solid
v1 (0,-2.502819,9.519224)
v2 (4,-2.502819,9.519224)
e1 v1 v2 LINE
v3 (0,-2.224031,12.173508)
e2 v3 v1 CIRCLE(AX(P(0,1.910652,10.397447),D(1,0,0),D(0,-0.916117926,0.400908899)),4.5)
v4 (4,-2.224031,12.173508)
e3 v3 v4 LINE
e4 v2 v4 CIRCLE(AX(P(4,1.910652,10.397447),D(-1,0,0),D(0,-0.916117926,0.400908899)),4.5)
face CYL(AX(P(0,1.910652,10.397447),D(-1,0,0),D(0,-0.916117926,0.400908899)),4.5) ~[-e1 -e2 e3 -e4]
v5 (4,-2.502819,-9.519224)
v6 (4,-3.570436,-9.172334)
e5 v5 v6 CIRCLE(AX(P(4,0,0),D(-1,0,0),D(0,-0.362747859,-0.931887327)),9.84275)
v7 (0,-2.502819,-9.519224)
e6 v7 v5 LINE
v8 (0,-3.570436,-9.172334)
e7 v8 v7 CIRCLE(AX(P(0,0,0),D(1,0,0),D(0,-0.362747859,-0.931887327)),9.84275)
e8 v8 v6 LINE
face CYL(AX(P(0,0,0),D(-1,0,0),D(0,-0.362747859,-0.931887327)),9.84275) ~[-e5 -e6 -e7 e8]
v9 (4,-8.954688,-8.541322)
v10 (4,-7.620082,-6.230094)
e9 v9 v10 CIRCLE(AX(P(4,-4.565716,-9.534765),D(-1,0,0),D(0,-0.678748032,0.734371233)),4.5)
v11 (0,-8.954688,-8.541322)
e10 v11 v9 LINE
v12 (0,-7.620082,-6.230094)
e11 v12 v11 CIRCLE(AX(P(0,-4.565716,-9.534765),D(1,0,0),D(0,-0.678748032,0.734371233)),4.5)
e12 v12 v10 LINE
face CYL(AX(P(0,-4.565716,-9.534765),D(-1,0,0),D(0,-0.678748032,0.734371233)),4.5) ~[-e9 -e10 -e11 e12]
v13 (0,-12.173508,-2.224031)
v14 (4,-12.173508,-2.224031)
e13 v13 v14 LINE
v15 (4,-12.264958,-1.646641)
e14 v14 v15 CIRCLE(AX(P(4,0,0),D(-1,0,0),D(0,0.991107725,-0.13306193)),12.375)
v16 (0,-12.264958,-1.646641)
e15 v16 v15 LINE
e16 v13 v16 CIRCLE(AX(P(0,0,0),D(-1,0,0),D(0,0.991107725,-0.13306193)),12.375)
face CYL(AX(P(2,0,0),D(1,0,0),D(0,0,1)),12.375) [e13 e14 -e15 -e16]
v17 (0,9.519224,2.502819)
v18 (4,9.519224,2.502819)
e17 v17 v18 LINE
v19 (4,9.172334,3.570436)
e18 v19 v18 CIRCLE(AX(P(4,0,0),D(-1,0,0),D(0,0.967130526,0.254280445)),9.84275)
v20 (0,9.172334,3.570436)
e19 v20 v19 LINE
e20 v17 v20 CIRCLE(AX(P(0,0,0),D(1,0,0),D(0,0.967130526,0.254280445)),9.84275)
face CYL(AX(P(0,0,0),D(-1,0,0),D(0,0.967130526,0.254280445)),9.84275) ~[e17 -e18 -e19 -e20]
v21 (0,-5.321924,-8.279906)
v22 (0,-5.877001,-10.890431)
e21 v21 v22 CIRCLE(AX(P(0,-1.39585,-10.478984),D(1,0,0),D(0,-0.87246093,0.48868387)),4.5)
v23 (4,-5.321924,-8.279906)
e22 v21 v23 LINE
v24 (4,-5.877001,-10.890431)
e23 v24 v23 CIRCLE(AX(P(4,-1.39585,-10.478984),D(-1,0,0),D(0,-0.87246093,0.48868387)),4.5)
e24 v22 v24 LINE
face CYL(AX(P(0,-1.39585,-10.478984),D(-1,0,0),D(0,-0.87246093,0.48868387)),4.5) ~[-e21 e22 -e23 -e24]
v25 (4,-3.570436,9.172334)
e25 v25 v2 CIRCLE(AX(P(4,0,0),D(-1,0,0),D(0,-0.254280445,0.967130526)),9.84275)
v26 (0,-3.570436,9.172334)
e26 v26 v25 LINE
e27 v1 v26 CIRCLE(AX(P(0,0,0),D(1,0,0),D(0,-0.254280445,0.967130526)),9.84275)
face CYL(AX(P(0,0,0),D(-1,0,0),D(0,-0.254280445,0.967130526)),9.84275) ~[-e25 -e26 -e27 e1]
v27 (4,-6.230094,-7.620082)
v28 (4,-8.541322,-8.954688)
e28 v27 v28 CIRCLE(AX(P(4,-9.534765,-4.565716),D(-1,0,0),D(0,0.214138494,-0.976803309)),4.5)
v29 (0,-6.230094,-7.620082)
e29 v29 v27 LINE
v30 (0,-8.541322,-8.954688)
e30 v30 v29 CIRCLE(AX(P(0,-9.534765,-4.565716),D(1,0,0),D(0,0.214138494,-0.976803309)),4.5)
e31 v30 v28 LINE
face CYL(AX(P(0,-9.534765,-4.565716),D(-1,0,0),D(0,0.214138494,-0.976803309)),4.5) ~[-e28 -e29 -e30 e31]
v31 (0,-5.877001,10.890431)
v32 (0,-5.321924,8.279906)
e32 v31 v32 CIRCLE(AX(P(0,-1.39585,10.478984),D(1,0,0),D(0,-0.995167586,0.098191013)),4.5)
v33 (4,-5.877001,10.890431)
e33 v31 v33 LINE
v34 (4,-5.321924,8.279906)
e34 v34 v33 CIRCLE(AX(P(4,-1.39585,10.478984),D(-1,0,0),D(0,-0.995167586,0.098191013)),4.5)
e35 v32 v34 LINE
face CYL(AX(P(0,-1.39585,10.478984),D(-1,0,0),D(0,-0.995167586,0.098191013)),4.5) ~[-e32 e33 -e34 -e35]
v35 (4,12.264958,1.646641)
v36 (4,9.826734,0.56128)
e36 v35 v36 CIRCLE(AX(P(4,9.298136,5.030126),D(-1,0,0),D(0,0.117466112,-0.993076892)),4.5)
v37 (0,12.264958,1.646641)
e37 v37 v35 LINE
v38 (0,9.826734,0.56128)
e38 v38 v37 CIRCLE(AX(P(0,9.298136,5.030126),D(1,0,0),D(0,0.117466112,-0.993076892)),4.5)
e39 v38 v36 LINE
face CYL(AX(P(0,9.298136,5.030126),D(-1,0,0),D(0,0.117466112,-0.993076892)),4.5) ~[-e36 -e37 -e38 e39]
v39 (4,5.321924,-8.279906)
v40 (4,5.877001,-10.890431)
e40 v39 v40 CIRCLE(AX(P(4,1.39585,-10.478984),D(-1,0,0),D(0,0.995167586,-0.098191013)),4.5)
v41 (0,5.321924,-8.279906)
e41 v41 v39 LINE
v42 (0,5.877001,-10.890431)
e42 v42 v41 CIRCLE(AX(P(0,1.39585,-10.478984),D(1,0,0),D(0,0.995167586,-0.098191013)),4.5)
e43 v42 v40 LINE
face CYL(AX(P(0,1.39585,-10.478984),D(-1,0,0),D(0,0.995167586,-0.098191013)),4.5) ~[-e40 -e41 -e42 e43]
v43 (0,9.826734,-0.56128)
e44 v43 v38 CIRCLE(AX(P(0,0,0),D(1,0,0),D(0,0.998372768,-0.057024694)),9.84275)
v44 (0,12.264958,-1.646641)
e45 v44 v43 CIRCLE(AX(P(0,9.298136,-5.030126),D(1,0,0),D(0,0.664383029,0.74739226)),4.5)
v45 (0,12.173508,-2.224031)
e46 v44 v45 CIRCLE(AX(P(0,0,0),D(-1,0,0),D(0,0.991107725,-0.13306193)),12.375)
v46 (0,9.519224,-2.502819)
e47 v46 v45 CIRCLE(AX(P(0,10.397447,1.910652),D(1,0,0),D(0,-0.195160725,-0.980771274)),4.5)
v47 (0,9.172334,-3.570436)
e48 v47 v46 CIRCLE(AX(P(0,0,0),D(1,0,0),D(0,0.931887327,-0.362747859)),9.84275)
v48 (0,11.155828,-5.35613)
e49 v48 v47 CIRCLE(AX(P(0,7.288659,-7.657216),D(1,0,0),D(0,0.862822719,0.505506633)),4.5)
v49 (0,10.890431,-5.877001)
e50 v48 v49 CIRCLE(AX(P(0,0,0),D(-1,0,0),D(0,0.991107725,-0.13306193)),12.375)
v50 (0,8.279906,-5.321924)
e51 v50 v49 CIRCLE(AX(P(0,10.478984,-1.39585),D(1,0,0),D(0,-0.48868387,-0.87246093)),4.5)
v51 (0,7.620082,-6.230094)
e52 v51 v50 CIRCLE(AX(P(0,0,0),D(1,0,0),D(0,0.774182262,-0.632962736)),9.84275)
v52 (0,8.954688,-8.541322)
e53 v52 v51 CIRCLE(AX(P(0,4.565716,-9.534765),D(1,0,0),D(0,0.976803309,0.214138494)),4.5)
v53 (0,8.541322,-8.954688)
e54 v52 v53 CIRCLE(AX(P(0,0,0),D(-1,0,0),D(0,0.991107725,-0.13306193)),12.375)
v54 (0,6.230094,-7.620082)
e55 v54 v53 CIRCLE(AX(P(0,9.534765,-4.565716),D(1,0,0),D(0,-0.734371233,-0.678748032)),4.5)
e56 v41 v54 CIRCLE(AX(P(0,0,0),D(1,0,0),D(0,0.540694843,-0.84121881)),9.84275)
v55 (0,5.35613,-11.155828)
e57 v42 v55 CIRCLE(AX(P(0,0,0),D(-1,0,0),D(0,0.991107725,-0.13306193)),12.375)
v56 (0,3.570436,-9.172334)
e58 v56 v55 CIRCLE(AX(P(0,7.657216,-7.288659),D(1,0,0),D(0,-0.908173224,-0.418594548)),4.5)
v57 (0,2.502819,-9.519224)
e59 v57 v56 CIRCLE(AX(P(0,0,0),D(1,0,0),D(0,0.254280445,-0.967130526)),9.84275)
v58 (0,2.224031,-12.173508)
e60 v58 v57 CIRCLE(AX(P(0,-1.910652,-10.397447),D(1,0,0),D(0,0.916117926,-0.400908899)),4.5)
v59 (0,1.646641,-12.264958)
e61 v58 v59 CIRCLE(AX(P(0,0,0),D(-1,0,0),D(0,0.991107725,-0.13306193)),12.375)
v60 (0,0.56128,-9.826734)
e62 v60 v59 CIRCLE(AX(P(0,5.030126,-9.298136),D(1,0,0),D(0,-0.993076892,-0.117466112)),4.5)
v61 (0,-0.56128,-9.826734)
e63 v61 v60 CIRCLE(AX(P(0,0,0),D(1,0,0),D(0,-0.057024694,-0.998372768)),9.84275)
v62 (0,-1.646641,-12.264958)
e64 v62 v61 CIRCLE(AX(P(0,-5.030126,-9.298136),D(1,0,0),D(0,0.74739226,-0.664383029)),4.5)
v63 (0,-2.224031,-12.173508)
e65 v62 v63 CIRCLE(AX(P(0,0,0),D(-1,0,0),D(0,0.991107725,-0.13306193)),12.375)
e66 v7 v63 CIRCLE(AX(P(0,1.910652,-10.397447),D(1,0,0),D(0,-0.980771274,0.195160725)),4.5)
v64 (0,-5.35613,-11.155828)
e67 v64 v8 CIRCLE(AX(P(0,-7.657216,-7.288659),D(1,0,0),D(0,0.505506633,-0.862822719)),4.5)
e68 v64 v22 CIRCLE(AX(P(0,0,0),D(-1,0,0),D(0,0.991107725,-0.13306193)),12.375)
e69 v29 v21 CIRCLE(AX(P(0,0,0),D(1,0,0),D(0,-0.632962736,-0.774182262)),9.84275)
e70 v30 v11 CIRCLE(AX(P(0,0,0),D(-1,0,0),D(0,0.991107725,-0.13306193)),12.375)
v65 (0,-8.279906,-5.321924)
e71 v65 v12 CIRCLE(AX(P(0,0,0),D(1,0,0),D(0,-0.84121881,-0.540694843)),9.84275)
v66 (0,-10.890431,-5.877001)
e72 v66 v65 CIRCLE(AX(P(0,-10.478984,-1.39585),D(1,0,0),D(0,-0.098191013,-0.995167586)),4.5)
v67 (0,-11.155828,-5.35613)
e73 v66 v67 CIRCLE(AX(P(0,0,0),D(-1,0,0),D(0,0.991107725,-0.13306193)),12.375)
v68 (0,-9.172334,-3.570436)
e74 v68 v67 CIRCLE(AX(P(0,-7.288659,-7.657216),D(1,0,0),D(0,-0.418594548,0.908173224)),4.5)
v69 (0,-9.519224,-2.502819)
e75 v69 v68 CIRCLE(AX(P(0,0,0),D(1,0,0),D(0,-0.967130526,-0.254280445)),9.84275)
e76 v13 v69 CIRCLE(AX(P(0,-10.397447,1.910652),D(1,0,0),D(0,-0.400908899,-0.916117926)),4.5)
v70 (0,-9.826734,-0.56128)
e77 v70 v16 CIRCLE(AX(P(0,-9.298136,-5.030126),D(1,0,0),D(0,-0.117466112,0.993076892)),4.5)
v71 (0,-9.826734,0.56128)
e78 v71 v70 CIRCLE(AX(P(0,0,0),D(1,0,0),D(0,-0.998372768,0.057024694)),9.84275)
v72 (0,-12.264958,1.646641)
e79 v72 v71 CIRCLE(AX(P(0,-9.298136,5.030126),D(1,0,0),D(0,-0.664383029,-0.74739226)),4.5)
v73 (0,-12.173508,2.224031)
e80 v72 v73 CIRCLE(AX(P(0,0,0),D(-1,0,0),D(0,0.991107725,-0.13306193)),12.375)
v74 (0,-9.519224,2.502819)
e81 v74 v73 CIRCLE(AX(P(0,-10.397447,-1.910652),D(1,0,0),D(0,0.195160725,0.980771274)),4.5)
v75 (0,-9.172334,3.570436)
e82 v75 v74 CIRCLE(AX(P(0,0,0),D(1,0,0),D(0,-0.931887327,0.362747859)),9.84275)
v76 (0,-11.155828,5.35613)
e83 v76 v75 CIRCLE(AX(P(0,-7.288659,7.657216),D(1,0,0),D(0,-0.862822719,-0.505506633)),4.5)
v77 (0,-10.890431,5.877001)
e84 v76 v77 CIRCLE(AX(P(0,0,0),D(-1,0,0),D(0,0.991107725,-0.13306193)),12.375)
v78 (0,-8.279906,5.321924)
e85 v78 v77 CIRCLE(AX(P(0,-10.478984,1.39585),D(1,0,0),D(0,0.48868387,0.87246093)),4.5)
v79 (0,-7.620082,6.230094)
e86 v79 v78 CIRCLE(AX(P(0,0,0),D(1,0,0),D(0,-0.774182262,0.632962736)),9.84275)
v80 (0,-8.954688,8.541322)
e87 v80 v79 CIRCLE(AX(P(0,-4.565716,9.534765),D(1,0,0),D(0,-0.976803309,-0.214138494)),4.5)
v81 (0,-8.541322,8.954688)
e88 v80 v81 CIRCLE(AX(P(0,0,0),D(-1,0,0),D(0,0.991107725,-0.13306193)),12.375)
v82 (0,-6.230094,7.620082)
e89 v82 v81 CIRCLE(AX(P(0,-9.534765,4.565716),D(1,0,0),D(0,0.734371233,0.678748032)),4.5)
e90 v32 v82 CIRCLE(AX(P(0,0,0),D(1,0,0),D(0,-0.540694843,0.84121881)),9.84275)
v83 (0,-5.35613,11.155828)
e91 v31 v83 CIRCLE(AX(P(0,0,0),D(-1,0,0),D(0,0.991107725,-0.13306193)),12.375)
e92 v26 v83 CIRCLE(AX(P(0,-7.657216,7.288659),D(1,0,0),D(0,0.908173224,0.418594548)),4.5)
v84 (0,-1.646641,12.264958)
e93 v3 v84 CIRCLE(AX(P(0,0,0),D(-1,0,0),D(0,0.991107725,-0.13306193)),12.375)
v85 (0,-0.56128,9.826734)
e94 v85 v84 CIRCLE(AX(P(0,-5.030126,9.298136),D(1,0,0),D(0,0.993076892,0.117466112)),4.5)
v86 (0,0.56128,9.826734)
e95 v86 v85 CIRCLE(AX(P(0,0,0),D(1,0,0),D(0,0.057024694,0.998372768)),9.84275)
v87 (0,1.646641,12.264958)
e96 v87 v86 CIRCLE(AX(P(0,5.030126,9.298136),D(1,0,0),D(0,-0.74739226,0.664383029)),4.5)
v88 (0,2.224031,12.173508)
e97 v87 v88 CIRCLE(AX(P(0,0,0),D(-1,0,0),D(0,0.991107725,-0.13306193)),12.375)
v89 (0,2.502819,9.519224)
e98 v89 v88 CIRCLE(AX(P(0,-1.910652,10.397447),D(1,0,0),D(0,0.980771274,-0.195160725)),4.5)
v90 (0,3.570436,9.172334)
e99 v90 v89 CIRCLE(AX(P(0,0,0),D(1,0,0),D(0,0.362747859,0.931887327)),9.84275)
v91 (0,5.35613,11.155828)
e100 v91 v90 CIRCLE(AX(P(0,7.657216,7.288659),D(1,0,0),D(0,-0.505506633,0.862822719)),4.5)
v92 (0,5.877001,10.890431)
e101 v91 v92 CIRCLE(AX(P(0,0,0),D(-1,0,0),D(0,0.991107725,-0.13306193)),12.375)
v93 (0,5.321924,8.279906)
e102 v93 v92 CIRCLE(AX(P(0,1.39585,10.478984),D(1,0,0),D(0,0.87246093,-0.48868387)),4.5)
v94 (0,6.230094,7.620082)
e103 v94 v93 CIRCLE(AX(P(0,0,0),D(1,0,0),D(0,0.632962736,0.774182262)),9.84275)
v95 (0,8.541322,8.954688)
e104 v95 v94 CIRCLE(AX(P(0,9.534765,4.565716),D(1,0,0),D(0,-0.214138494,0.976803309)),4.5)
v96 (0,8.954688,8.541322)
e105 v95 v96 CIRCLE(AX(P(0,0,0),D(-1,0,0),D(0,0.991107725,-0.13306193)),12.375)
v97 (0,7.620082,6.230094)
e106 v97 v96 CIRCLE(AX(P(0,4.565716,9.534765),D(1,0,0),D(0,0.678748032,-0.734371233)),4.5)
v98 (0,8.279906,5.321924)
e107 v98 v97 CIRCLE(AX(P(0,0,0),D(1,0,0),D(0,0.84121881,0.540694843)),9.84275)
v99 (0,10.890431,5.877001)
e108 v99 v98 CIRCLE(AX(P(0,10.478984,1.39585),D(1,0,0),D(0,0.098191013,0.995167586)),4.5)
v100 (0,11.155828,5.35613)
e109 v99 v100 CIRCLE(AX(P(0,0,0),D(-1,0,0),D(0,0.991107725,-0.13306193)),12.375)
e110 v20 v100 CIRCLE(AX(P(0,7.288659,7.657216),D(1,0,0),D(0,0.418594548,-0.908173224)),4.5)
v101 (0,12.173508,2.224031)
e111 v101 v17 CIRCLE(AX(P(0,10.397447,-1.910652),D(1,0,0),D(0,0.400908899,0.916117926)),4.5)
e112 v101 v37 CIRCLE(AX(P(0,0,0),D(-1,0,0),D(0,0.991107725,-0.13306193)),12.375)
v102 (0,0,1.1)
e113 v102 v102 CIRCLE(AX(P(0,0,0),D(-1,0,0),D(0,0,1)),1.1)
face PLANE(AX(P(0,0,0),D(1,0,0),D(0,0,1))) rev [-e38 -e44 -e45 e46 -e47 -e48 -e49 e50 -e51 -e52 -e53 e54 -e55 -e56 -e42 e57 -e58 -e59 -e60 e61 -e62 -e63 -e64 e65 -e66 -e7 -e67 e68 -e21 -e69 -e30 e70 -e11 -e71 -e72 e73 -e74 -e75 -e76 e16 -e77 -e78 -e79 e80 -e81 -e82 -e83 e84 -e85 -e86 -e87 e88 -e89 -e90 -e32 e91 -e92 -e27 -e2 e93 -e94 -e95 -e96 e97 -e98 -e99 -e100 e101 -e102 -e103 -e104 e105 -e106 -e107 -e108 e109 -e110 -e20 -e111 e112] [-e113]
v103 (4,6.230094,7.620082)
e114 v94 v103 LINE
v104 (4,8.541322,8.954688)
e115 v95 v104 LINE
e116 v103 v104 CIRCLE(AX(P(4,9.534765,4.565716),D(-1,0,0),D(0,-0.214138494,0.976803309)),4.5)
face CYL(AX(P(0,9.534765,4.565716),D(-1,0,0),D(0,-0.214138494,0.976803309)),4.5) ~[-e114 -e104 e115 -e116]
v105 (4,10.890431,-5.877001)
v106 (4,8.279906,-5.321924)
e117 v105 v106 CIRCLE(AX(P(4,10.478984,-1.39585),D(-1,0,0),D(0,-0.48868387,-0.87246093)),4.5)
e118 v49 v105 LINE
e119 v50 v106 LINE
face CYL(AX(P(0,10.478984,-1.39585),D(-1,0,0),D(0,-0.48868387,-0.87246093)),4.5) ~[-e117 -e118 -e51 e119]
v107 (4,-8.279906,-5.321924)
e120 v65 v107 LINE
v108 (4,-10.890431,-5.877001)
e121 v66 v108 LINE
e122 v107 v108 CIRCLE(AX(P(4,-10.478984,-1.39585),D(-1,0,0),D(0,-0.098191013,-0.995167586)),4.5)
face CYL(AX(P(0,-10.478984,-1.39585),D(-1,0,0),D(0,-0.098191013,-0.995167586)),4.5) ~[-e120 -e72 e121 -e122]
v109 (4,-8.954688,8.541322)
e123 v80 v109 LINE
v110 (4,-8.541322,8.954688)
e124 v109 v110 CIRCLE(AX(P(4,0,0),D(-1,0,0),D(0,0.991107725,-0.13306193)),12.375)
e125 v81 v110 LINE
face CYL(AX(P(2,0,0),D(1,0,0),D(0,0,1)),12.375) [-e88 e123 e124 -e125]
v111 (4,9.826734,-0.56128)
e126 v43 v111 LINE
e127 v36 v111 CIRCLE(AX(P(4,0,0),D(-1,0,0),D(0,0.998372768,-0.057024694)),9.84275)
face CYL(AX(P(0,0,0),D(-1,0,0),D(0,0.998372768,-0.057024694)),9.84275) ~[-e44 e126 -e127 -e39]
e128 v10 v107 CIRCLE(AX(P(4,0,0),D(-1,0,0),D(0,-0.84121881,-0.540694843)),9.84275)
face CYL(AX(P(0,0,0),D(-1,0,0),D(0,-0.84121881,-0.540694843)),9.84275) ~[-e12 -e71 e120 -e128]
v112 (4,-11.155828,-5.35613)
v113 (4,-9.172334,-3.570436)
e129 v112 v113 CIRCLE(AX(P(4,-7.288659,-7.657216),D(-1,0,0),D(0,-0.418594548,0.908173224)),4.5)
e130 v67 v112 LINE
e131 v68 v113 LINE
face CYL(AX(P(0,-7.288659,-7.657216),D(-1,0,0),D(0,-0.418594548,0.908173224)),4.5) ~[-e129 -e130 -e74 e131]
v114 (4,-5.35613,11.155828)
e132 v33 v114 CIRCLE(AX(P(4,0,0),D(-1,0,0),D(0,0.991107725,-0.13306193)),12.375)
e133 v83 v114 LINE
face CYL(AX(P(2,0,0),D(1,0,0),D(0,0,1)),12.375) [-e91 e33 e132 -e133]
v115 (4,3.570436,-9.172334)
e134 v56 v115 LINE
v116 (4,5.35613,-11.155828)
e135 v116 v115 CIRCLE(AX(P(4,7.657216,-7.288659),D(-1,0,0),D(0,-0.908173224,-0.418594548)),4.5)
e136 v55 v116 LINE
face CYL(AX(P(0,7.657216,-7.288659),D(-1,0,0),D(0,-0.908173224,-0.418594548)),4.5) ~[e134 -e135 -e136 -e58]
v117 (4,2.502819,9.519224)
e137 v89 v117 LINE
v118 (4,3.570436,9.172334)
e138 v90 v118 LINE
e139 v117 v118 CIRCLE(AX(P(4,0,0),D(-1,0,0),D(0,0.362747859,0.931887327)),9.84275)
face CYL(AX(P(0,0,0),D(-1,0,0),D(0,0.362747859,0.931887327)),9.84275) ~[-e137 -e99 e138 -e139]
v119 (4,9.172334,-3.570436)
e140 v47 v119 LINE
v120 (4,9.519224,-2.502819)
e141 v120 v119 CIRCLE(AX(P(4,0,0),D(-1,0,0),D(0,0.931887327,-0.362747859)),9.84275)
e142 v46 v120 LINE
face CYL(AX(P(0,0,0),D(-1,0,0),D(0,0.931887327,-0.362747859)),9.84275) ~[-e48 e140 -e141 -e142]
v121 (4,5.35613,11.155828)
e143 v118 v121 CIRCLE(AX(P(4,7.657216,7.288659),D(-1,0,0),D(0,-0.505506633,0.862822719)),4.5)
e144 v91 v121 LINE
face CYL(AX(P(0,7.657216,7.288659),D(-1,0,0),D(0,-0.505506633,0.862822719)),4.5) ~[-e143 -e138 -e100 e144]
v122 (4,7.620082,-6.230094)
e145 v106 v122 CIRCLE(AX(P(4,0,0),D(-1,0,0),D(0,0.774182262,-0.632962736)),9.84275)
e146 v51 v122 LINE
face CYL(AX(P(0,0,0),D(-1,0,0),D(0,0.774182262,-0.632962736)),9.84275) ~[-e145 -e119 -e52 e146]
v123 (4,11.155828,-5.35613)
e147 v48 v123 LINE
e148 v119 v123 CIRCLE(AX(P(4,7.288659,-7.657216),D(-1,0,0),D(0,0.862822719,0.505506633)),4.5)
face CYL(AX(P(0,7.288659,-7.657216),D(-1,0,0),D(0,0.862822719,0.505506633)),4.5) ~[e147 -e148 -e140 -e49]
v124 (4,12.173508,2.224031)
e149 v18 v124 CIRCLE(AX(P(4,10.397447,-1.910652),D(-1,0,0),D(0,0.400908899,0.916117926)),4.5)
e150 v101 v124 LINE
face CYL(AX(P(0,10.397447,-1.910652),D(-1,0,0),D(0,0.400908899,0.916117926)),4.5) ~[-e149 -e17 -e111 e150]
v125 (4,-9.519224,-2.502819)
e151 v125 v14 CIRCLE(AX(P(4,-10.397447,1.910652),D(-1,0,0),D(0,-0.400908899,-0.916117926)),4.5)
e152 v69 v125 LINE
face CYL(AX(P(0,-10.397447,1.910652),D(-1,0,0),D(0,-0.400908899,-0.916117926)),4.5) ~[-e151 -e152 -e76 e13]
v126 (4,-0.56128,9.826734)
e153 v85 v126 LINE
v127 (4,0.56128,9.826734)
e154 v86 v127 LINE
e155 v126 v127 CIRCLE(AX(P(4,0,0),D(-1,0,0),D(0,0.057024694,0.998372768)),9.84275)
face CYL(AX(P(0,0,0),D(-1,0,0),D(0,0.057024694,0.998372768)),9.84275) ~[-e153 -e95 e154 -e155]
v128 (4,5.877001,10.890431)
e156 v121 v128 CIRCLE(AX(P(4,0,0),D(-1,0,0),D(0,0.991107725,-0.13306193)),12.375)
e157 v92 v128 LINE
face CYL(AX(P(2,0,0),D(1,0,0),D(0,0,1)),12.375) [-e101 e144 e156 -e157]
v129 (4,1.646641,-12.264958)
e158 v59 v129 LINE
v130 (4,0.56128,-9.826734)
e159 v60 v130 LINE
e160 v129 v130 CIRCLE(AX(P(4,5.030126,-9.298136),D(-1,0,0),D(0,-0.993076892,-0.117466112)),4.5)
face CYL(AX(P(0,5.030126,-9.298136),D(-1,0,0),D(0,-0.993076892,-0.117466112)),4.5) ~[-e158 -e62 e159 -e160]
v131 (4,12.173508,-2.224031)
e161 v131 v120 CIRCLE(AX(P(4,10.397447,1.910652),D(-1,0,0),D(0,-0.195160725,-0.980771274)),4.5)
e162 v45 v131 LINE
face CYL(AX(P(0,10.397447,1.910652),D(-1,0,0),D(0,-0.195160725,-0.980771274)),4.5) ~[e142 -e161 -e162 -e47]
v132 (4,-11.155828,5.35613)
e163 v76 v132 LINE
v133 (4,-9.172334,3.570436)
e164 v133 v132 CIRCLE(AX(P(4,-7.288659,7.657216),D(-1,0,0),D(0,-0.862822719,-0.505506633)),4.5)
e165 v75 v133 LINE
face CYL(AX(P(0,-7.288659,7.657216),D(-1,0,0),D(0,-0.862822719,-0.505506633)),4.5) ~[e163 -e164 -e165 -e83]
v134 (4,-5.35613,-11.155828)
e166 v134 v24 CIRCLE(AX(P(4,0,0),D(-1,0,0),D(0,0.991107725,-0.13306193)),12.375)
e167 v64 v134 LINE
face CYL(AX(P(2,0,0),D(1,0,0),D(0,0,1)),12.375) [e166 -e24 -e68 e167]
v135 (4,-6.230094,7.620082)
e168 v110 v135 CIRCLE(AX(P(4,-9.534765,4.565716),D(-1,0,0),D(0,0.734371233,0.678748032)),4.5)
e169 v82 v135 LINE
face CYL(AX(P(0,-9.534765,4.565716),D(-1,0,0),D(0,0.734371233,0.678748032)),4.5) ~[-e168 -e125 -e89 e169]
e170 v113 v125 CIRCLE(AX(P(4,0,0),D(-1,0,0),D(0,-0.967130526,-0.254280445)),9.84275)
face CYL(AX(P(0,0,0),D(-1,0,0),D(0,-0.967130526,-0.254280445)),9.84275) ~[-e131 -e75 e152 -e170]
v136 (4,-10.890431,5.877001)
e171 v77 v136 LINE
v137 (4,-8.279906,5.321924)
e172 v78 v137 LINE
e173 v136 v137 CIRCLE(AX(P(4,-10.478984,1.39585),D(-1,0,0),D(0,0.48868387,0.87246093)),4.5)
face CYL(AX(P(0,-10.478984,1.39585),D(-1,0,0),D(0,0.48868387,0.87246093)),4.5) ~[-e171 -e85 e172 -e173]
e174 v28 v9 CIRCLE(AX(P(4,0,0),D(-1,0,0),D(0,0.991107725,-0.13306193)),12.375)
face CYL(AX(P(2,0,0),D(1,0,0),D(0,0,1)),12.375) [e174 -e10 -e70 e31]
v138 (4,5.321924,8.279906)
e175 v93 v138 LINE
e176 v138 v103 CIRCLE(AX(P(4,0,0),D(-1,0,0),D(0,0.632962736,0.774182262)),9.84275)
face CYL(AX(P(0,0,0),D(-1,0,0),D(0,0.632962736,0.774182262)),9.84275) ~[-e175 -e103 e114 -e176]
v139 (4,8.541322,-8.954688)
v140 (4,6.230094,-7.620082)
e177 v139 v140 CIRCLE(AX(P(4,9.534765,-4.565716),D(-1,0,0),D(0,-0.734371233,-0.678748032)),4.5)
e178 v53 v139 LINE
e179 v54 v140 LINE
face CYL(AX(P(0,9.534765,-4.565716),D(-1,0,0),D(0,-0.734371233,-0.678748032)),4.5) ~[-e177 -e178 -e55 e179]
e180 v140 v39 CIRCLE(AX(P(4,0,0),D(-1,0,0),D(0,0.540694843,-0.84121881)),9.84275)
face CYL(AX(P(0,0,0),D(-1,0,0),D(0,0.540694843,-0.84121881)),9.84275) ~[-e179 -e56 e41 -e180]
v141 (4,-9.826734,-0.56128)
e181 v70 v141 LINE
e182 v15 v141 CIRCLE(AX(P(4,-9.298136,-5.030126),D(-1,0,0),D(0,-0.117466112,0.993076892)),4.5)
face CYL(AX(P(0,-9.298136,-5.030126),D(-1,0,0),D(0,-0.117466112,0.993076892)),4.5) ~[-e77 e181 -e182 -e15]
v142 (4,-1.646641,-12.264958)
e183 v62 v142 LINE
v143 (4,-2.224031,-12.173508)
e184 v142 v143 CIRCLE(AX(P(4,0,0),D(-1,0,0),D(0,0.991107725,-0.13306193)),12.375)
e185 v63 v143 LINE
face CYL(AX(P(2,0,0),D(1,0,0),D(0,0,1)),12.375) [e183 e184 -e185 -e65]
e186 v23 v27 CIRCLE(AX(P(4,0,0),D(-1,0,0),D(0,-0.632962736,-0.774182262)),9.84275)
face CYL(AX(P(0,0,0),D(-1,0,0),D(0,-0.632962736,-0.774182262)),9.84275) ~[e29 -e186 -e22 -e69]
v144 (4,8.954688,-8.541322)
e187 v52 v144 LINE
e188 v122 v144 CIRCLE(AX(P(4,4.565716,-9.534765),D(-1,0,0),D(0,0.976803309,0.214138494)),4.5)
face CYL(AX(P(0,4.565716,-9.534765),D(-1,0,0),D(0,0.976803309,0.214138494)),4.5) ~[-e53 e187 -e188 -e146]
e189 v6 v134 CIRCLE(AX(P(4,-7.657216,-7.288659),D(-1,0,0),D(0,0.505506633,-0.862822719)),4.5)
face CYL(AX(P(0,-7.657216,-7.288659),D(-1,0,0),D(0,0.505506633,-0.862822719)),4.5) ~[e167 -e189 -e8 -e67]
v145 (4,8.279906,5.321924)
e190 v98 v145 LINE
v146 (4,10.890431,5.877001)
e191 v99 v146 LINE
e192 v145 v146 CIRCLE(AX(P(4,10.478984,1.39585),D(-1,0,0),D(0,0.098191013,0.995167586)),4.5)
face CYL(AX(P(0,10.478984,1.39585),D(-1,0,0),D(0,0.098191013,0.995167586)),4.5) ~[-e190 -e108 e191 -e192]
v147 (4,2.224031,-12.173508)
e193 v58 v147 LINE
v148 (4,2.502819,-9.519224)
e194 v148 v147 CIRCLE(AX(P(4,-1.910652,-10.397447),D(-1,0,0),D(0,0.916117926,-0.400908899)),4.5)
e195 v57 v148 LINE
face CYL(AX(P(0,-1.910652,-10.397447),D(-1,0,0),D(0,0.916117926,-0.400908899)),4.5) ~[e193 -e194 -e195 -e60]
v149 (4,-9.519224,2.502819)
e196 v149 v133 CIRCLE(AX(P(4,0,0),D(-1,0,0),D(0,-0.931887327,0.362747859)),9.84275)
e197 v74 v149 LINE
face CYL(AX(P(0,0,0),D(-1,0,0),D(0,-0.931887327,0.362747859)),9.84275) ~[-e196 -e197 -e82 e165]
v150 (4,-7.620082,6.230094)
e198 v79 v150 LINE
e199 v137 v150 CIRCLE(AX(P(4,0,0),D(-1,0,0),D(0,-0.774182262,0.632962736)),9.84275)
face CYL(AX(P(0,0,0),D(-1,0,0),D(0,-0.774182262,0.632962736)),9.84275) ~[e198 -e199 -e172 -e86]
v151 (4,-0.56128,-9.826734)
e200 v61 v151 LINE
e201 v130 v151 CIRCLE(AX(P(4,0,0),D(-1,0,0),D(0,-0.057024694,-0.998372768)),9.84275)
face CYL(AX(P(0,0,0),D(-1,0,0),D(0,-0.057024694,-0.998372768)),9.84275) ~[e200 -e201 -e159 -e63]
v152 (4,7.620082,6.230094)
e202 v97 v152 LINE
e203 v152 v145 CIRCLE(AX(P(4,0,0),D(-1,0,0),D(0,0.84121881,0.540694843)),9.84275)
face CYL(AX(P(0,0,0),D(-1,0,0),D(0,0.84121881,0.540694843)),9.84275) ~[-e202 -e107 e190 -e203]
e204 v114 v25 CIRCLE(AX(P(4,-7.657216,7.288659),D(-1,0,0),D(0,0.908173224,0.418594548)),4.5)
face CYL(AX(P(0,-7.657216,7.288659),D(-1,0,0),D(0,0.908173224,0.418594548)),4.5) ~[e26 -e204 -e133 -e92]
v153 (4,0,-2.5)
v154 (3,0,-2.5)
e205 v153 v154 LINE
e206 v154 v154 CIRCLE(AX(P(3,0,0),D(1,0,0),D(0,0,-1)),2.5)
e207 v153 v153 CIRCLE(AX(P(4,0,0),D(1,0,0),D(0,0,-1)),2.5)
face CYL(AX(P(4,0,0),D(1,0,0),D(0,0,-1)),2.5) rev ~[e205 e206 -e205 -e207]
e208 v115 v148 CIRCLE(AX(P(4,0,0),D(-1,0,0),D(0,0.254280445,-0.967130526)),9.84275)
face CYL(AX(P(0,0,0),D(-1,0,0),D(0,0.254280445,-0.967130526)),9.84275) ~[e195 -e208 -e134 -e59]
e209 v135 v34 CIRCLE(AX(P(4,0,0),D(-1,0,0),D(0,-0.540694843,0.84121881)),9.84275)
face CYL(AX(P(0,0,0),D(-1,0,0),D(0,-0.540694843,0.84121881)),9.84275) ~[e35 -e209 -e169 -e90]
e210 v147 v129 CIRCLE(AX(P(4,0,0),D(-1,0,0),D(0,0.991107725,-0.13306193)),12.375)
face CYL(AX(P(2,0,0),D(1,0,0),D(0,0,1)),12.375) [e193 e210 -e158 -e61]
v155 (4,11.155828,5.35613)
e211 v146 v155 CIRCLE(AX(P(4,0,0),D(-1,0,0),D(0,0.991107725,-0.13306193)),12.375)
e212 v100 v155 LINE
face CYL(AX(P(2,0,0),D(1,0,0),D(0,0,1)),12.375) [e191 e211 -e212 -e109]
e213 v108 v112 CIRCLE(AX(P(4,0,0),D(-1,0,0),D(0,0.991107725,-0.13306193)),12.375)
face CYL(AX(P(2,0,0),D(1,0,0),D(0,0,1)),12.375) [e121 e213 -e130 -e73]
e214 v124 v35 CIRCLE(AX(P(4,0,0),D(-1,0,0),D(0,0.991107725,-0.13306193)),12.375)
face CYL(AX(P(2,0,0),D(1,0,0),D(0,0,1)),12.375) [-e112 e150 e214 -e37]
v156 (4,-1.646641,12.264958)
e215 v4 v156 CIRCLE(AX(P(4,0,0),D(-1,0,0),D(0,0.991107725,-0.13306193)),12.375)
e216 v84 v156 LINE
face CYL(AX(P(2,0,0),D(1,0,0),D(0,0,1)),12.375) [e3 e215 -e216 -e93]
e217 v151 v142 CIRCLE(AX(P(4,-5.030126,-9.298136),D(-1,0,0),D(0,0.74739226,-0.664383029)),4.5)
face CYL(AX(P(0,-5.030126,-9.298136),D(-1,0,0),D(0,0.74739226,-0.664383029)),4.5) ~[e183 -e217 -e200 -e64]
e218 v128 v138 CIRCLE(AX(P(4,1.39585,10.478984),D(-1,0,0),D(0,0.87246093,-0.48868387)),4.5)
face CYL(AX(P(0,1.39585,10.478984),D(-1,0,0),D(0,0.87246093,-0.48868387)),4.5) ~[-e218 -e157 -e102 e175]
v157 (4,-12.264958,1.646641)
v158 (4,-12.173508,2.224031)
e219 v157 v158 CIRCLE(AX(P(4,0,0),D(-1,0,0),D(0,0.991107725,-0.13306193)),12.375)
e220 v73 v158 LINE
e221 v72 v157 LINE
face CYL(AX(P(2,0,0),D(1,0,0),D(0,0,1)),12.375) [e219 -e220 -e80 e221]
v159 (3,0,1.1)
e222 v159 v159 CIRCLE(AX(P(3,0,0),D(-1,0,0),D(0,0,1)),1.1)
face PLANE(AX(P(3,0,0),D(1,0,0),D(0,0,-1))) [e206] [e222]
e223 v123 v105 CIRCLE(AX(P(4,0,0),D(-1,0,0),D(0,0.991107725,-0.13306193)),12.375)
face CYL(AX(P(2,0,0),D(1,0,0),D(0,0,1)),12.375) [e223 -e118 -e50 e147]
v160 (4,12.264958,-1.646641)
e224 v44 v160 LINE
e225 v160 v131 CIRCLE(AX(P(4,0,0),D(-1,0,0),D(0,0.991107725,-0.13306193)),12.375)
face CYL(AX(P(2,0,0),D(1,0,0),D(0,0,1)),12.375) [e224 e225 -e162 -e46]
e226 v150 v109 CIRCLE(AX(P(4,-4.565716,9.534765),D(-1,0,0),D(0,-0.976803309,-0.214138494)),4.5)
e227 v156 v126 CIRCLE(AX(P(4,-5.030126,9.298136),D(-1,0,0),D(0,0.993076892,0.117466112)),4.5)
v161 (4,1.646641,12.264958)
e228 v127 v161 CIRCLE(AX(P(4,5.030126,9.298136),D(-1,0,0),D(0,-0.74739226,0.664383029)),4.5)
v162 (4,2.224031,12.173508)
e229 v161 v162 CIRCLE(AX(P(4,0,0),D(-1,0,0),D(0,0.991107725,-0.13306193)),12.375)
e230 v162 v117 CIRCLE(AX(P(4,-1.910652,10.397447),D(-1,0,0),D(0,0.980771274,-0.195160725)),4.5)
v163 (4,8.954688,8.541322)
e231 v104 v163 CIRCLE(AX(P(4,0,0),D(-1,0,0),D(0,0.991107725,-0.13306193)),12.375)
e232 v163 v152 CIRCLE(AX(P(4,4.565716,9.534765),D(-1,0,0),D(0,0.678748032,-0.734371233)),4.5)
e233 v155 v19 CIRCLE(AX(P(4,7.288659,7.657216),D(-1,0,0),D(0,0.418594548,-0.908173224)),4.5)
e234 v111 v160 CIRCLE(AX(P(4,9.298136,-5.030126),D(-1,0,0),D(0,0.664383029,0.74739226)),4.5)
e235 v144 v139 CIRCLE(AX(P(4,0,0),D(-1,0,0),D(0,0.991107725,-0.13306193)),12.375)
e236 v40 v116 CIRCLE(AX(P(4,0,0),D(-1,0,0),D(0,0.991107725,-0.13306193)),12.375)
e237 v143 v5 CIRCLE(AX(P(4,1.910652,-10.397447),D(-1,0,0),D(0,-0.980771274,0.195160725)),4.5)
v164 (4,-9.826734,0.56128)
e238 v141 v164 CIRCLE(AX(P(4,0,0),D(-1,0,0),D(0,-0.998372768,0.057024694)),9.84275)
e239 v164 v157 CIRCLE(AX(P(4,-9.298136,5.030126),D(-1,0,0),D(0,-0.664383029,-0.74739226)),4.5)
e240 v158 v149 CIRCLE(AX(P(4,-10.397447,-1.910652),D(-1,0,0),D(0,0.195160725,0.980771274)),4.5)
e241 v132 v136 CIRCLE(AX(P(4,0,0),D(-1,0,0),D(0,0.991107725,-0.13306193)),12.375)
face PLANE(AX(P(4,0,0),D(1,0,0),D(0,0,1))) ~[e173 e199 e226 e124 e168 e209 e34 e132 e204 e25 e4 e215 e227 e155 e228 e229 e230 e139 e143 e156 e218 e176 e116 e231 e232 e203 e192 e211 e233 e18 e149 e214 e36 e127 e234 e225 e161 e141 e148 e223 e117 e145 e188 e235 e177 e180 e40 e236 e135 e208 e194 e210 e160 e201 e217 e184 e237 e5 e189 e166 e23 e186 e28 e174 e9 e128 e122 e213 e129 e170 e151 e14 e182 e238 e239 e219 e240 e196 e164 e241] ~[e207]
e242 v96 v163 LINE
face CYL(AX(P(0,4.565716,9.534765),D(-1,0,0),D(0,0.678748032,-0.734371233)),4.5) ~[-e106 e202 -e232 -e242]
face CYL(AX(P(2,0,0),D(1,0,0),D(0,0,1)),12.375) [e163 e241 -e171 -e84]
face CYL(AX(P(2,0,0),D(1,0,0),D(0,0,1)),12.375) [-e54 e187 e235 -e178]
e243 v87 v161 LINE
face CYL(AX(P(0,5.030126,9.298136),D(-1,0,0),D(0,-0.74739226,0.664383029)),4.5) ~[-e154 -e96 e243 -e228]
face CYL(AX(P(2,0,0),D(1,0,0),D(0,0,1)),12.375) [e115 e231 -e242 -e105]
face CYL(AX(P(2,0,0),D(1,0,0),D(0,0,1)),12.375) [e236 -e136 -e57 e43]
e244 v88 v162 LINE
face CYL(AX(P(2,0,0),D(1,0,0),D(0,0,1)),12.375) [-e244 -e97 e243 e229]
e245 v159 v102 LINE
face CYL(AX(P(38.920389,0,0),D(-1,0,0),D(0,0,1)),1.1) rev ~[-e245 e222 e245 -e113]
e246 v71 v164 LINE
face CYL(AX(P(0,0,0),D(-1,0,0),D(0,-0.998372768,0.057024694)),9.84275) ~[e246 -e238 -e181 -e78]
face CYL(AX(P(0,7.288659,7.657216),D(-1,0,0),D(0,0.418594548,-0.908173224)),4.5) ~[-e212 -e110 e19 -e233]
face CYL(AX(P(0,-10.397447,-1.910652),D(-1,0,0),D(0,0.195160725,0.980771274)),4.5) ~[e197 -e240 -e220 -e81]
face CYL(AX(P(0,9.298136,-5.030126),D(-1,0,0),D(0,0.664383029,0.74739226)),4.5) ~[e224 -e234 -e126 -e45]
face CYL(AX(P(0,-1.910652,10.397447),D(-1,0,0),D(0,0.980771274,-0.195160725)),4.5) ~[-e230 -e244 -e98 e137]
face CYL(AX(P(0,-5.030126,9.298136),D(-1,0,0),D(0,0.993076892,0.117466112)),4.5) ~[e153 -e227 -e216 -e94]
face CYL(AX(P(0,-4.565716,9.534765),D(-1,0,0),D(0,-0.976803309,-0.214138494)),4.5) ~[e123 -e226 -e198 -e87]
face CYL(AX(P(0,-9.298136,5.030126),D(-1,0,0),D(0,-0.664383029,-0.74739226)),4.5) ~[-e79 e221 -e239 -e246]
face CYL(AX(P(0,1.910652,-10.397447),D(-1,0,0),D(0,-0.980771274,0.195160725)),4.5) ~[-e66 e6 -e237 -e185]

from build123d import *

# Parameters (mm, degrees)
BASPROSKE_W          = 4
BASPROSKE_H          = 12.375
TOOTHCUT_DEPTH       = 18.952193459
TEETHCUTS_COUNT      = 20
M2_CLEARANCE_HOLE1_D = 2.2
SKETCH3_R            = 2.5
CUT_EXTRUDE1_DEPTH   = 1


with BuildPart() as part:
    # BasProSke → Base-Revolve (revolve)
    with BuildSketch(Plane(origin=(0, 0, 0), x_dir=(1, 0, 0), z_dir=(0, 1, 0)), mode=Mode.PRIVATE) as base_revolve_sk:
        with Locations((2, 6.1875)):
            Rectangle(BASPROSKE_W, BASPROSKE_H)
    revolve(base_revolve_sk.sketch.rotate(Axis((-10, 0, 0), (1, 0, 0)), 180), axis=Axis((-10, 0, 0), (1, 0, 0)))

    # TooCutSke → ToothCut (cut, through all)
    with BuildSketch(Plane(origin=(0, 0, 0), x_dir=(0, 0, -1), z_dir=(1, 0, 0))):
        with BuildLine():
            ThreePointArc((0.561279811, 9.826733564), (0, 9.84275), (-0.561279811, 9.826733564))
            ThreePointArc((-0.561279811, 9.826733564), (-0.925277854, 11.14210546), (-1.666860651, 12.287859689))
            ThreePointArc((-1.666860651, 12.287859689), (0, 12.4004), (1.666860651, 12.287859689))
            ThreePointArc((1.666860651, 12.287859689), (0.925277854, 11.14210546), (0.561279811, 9.826733564))
        make_face()
    toothcut = extrude(amount=TOOTHCUT_DEPTH, mode=Mode.SUBTRACT)

    # TeethCuts: ToothCut ×20 about axis
    teethcuts_axis = Axis((0, 0, 0), (1, 0, 0))
    for i in range(1, TEETHCUTS_COUNT):
        add(toothcut.rotate(teethcuts_axis, i * 360 / TEETHCUTS_COUNT), mode=Mode.SUBTRACT)

    # M2 Clearance Hole1 (through all)
    with Locations(Plane(origin=(4, 0, 0), x_dir=(0, 0, -1), z_dir=(1, 0, 0))):
        with Locations((0, 0)):
            Hole(M2_CLEARANCE_HOLE1_D / 2)

    # Sketch3 → Cut-Extrude1 (cut)
    with BuildSketch(Plane(origin=(4, 0, 0), x_dir=(0, 0, -1), z_dir=(1, 0, 0))):
        Circle(SKETCH3_R)
    extrude(amount=-CUT_EXTRUDE1_DEPTH, mode=Mode.SUBTRACT)


solid = part.part
